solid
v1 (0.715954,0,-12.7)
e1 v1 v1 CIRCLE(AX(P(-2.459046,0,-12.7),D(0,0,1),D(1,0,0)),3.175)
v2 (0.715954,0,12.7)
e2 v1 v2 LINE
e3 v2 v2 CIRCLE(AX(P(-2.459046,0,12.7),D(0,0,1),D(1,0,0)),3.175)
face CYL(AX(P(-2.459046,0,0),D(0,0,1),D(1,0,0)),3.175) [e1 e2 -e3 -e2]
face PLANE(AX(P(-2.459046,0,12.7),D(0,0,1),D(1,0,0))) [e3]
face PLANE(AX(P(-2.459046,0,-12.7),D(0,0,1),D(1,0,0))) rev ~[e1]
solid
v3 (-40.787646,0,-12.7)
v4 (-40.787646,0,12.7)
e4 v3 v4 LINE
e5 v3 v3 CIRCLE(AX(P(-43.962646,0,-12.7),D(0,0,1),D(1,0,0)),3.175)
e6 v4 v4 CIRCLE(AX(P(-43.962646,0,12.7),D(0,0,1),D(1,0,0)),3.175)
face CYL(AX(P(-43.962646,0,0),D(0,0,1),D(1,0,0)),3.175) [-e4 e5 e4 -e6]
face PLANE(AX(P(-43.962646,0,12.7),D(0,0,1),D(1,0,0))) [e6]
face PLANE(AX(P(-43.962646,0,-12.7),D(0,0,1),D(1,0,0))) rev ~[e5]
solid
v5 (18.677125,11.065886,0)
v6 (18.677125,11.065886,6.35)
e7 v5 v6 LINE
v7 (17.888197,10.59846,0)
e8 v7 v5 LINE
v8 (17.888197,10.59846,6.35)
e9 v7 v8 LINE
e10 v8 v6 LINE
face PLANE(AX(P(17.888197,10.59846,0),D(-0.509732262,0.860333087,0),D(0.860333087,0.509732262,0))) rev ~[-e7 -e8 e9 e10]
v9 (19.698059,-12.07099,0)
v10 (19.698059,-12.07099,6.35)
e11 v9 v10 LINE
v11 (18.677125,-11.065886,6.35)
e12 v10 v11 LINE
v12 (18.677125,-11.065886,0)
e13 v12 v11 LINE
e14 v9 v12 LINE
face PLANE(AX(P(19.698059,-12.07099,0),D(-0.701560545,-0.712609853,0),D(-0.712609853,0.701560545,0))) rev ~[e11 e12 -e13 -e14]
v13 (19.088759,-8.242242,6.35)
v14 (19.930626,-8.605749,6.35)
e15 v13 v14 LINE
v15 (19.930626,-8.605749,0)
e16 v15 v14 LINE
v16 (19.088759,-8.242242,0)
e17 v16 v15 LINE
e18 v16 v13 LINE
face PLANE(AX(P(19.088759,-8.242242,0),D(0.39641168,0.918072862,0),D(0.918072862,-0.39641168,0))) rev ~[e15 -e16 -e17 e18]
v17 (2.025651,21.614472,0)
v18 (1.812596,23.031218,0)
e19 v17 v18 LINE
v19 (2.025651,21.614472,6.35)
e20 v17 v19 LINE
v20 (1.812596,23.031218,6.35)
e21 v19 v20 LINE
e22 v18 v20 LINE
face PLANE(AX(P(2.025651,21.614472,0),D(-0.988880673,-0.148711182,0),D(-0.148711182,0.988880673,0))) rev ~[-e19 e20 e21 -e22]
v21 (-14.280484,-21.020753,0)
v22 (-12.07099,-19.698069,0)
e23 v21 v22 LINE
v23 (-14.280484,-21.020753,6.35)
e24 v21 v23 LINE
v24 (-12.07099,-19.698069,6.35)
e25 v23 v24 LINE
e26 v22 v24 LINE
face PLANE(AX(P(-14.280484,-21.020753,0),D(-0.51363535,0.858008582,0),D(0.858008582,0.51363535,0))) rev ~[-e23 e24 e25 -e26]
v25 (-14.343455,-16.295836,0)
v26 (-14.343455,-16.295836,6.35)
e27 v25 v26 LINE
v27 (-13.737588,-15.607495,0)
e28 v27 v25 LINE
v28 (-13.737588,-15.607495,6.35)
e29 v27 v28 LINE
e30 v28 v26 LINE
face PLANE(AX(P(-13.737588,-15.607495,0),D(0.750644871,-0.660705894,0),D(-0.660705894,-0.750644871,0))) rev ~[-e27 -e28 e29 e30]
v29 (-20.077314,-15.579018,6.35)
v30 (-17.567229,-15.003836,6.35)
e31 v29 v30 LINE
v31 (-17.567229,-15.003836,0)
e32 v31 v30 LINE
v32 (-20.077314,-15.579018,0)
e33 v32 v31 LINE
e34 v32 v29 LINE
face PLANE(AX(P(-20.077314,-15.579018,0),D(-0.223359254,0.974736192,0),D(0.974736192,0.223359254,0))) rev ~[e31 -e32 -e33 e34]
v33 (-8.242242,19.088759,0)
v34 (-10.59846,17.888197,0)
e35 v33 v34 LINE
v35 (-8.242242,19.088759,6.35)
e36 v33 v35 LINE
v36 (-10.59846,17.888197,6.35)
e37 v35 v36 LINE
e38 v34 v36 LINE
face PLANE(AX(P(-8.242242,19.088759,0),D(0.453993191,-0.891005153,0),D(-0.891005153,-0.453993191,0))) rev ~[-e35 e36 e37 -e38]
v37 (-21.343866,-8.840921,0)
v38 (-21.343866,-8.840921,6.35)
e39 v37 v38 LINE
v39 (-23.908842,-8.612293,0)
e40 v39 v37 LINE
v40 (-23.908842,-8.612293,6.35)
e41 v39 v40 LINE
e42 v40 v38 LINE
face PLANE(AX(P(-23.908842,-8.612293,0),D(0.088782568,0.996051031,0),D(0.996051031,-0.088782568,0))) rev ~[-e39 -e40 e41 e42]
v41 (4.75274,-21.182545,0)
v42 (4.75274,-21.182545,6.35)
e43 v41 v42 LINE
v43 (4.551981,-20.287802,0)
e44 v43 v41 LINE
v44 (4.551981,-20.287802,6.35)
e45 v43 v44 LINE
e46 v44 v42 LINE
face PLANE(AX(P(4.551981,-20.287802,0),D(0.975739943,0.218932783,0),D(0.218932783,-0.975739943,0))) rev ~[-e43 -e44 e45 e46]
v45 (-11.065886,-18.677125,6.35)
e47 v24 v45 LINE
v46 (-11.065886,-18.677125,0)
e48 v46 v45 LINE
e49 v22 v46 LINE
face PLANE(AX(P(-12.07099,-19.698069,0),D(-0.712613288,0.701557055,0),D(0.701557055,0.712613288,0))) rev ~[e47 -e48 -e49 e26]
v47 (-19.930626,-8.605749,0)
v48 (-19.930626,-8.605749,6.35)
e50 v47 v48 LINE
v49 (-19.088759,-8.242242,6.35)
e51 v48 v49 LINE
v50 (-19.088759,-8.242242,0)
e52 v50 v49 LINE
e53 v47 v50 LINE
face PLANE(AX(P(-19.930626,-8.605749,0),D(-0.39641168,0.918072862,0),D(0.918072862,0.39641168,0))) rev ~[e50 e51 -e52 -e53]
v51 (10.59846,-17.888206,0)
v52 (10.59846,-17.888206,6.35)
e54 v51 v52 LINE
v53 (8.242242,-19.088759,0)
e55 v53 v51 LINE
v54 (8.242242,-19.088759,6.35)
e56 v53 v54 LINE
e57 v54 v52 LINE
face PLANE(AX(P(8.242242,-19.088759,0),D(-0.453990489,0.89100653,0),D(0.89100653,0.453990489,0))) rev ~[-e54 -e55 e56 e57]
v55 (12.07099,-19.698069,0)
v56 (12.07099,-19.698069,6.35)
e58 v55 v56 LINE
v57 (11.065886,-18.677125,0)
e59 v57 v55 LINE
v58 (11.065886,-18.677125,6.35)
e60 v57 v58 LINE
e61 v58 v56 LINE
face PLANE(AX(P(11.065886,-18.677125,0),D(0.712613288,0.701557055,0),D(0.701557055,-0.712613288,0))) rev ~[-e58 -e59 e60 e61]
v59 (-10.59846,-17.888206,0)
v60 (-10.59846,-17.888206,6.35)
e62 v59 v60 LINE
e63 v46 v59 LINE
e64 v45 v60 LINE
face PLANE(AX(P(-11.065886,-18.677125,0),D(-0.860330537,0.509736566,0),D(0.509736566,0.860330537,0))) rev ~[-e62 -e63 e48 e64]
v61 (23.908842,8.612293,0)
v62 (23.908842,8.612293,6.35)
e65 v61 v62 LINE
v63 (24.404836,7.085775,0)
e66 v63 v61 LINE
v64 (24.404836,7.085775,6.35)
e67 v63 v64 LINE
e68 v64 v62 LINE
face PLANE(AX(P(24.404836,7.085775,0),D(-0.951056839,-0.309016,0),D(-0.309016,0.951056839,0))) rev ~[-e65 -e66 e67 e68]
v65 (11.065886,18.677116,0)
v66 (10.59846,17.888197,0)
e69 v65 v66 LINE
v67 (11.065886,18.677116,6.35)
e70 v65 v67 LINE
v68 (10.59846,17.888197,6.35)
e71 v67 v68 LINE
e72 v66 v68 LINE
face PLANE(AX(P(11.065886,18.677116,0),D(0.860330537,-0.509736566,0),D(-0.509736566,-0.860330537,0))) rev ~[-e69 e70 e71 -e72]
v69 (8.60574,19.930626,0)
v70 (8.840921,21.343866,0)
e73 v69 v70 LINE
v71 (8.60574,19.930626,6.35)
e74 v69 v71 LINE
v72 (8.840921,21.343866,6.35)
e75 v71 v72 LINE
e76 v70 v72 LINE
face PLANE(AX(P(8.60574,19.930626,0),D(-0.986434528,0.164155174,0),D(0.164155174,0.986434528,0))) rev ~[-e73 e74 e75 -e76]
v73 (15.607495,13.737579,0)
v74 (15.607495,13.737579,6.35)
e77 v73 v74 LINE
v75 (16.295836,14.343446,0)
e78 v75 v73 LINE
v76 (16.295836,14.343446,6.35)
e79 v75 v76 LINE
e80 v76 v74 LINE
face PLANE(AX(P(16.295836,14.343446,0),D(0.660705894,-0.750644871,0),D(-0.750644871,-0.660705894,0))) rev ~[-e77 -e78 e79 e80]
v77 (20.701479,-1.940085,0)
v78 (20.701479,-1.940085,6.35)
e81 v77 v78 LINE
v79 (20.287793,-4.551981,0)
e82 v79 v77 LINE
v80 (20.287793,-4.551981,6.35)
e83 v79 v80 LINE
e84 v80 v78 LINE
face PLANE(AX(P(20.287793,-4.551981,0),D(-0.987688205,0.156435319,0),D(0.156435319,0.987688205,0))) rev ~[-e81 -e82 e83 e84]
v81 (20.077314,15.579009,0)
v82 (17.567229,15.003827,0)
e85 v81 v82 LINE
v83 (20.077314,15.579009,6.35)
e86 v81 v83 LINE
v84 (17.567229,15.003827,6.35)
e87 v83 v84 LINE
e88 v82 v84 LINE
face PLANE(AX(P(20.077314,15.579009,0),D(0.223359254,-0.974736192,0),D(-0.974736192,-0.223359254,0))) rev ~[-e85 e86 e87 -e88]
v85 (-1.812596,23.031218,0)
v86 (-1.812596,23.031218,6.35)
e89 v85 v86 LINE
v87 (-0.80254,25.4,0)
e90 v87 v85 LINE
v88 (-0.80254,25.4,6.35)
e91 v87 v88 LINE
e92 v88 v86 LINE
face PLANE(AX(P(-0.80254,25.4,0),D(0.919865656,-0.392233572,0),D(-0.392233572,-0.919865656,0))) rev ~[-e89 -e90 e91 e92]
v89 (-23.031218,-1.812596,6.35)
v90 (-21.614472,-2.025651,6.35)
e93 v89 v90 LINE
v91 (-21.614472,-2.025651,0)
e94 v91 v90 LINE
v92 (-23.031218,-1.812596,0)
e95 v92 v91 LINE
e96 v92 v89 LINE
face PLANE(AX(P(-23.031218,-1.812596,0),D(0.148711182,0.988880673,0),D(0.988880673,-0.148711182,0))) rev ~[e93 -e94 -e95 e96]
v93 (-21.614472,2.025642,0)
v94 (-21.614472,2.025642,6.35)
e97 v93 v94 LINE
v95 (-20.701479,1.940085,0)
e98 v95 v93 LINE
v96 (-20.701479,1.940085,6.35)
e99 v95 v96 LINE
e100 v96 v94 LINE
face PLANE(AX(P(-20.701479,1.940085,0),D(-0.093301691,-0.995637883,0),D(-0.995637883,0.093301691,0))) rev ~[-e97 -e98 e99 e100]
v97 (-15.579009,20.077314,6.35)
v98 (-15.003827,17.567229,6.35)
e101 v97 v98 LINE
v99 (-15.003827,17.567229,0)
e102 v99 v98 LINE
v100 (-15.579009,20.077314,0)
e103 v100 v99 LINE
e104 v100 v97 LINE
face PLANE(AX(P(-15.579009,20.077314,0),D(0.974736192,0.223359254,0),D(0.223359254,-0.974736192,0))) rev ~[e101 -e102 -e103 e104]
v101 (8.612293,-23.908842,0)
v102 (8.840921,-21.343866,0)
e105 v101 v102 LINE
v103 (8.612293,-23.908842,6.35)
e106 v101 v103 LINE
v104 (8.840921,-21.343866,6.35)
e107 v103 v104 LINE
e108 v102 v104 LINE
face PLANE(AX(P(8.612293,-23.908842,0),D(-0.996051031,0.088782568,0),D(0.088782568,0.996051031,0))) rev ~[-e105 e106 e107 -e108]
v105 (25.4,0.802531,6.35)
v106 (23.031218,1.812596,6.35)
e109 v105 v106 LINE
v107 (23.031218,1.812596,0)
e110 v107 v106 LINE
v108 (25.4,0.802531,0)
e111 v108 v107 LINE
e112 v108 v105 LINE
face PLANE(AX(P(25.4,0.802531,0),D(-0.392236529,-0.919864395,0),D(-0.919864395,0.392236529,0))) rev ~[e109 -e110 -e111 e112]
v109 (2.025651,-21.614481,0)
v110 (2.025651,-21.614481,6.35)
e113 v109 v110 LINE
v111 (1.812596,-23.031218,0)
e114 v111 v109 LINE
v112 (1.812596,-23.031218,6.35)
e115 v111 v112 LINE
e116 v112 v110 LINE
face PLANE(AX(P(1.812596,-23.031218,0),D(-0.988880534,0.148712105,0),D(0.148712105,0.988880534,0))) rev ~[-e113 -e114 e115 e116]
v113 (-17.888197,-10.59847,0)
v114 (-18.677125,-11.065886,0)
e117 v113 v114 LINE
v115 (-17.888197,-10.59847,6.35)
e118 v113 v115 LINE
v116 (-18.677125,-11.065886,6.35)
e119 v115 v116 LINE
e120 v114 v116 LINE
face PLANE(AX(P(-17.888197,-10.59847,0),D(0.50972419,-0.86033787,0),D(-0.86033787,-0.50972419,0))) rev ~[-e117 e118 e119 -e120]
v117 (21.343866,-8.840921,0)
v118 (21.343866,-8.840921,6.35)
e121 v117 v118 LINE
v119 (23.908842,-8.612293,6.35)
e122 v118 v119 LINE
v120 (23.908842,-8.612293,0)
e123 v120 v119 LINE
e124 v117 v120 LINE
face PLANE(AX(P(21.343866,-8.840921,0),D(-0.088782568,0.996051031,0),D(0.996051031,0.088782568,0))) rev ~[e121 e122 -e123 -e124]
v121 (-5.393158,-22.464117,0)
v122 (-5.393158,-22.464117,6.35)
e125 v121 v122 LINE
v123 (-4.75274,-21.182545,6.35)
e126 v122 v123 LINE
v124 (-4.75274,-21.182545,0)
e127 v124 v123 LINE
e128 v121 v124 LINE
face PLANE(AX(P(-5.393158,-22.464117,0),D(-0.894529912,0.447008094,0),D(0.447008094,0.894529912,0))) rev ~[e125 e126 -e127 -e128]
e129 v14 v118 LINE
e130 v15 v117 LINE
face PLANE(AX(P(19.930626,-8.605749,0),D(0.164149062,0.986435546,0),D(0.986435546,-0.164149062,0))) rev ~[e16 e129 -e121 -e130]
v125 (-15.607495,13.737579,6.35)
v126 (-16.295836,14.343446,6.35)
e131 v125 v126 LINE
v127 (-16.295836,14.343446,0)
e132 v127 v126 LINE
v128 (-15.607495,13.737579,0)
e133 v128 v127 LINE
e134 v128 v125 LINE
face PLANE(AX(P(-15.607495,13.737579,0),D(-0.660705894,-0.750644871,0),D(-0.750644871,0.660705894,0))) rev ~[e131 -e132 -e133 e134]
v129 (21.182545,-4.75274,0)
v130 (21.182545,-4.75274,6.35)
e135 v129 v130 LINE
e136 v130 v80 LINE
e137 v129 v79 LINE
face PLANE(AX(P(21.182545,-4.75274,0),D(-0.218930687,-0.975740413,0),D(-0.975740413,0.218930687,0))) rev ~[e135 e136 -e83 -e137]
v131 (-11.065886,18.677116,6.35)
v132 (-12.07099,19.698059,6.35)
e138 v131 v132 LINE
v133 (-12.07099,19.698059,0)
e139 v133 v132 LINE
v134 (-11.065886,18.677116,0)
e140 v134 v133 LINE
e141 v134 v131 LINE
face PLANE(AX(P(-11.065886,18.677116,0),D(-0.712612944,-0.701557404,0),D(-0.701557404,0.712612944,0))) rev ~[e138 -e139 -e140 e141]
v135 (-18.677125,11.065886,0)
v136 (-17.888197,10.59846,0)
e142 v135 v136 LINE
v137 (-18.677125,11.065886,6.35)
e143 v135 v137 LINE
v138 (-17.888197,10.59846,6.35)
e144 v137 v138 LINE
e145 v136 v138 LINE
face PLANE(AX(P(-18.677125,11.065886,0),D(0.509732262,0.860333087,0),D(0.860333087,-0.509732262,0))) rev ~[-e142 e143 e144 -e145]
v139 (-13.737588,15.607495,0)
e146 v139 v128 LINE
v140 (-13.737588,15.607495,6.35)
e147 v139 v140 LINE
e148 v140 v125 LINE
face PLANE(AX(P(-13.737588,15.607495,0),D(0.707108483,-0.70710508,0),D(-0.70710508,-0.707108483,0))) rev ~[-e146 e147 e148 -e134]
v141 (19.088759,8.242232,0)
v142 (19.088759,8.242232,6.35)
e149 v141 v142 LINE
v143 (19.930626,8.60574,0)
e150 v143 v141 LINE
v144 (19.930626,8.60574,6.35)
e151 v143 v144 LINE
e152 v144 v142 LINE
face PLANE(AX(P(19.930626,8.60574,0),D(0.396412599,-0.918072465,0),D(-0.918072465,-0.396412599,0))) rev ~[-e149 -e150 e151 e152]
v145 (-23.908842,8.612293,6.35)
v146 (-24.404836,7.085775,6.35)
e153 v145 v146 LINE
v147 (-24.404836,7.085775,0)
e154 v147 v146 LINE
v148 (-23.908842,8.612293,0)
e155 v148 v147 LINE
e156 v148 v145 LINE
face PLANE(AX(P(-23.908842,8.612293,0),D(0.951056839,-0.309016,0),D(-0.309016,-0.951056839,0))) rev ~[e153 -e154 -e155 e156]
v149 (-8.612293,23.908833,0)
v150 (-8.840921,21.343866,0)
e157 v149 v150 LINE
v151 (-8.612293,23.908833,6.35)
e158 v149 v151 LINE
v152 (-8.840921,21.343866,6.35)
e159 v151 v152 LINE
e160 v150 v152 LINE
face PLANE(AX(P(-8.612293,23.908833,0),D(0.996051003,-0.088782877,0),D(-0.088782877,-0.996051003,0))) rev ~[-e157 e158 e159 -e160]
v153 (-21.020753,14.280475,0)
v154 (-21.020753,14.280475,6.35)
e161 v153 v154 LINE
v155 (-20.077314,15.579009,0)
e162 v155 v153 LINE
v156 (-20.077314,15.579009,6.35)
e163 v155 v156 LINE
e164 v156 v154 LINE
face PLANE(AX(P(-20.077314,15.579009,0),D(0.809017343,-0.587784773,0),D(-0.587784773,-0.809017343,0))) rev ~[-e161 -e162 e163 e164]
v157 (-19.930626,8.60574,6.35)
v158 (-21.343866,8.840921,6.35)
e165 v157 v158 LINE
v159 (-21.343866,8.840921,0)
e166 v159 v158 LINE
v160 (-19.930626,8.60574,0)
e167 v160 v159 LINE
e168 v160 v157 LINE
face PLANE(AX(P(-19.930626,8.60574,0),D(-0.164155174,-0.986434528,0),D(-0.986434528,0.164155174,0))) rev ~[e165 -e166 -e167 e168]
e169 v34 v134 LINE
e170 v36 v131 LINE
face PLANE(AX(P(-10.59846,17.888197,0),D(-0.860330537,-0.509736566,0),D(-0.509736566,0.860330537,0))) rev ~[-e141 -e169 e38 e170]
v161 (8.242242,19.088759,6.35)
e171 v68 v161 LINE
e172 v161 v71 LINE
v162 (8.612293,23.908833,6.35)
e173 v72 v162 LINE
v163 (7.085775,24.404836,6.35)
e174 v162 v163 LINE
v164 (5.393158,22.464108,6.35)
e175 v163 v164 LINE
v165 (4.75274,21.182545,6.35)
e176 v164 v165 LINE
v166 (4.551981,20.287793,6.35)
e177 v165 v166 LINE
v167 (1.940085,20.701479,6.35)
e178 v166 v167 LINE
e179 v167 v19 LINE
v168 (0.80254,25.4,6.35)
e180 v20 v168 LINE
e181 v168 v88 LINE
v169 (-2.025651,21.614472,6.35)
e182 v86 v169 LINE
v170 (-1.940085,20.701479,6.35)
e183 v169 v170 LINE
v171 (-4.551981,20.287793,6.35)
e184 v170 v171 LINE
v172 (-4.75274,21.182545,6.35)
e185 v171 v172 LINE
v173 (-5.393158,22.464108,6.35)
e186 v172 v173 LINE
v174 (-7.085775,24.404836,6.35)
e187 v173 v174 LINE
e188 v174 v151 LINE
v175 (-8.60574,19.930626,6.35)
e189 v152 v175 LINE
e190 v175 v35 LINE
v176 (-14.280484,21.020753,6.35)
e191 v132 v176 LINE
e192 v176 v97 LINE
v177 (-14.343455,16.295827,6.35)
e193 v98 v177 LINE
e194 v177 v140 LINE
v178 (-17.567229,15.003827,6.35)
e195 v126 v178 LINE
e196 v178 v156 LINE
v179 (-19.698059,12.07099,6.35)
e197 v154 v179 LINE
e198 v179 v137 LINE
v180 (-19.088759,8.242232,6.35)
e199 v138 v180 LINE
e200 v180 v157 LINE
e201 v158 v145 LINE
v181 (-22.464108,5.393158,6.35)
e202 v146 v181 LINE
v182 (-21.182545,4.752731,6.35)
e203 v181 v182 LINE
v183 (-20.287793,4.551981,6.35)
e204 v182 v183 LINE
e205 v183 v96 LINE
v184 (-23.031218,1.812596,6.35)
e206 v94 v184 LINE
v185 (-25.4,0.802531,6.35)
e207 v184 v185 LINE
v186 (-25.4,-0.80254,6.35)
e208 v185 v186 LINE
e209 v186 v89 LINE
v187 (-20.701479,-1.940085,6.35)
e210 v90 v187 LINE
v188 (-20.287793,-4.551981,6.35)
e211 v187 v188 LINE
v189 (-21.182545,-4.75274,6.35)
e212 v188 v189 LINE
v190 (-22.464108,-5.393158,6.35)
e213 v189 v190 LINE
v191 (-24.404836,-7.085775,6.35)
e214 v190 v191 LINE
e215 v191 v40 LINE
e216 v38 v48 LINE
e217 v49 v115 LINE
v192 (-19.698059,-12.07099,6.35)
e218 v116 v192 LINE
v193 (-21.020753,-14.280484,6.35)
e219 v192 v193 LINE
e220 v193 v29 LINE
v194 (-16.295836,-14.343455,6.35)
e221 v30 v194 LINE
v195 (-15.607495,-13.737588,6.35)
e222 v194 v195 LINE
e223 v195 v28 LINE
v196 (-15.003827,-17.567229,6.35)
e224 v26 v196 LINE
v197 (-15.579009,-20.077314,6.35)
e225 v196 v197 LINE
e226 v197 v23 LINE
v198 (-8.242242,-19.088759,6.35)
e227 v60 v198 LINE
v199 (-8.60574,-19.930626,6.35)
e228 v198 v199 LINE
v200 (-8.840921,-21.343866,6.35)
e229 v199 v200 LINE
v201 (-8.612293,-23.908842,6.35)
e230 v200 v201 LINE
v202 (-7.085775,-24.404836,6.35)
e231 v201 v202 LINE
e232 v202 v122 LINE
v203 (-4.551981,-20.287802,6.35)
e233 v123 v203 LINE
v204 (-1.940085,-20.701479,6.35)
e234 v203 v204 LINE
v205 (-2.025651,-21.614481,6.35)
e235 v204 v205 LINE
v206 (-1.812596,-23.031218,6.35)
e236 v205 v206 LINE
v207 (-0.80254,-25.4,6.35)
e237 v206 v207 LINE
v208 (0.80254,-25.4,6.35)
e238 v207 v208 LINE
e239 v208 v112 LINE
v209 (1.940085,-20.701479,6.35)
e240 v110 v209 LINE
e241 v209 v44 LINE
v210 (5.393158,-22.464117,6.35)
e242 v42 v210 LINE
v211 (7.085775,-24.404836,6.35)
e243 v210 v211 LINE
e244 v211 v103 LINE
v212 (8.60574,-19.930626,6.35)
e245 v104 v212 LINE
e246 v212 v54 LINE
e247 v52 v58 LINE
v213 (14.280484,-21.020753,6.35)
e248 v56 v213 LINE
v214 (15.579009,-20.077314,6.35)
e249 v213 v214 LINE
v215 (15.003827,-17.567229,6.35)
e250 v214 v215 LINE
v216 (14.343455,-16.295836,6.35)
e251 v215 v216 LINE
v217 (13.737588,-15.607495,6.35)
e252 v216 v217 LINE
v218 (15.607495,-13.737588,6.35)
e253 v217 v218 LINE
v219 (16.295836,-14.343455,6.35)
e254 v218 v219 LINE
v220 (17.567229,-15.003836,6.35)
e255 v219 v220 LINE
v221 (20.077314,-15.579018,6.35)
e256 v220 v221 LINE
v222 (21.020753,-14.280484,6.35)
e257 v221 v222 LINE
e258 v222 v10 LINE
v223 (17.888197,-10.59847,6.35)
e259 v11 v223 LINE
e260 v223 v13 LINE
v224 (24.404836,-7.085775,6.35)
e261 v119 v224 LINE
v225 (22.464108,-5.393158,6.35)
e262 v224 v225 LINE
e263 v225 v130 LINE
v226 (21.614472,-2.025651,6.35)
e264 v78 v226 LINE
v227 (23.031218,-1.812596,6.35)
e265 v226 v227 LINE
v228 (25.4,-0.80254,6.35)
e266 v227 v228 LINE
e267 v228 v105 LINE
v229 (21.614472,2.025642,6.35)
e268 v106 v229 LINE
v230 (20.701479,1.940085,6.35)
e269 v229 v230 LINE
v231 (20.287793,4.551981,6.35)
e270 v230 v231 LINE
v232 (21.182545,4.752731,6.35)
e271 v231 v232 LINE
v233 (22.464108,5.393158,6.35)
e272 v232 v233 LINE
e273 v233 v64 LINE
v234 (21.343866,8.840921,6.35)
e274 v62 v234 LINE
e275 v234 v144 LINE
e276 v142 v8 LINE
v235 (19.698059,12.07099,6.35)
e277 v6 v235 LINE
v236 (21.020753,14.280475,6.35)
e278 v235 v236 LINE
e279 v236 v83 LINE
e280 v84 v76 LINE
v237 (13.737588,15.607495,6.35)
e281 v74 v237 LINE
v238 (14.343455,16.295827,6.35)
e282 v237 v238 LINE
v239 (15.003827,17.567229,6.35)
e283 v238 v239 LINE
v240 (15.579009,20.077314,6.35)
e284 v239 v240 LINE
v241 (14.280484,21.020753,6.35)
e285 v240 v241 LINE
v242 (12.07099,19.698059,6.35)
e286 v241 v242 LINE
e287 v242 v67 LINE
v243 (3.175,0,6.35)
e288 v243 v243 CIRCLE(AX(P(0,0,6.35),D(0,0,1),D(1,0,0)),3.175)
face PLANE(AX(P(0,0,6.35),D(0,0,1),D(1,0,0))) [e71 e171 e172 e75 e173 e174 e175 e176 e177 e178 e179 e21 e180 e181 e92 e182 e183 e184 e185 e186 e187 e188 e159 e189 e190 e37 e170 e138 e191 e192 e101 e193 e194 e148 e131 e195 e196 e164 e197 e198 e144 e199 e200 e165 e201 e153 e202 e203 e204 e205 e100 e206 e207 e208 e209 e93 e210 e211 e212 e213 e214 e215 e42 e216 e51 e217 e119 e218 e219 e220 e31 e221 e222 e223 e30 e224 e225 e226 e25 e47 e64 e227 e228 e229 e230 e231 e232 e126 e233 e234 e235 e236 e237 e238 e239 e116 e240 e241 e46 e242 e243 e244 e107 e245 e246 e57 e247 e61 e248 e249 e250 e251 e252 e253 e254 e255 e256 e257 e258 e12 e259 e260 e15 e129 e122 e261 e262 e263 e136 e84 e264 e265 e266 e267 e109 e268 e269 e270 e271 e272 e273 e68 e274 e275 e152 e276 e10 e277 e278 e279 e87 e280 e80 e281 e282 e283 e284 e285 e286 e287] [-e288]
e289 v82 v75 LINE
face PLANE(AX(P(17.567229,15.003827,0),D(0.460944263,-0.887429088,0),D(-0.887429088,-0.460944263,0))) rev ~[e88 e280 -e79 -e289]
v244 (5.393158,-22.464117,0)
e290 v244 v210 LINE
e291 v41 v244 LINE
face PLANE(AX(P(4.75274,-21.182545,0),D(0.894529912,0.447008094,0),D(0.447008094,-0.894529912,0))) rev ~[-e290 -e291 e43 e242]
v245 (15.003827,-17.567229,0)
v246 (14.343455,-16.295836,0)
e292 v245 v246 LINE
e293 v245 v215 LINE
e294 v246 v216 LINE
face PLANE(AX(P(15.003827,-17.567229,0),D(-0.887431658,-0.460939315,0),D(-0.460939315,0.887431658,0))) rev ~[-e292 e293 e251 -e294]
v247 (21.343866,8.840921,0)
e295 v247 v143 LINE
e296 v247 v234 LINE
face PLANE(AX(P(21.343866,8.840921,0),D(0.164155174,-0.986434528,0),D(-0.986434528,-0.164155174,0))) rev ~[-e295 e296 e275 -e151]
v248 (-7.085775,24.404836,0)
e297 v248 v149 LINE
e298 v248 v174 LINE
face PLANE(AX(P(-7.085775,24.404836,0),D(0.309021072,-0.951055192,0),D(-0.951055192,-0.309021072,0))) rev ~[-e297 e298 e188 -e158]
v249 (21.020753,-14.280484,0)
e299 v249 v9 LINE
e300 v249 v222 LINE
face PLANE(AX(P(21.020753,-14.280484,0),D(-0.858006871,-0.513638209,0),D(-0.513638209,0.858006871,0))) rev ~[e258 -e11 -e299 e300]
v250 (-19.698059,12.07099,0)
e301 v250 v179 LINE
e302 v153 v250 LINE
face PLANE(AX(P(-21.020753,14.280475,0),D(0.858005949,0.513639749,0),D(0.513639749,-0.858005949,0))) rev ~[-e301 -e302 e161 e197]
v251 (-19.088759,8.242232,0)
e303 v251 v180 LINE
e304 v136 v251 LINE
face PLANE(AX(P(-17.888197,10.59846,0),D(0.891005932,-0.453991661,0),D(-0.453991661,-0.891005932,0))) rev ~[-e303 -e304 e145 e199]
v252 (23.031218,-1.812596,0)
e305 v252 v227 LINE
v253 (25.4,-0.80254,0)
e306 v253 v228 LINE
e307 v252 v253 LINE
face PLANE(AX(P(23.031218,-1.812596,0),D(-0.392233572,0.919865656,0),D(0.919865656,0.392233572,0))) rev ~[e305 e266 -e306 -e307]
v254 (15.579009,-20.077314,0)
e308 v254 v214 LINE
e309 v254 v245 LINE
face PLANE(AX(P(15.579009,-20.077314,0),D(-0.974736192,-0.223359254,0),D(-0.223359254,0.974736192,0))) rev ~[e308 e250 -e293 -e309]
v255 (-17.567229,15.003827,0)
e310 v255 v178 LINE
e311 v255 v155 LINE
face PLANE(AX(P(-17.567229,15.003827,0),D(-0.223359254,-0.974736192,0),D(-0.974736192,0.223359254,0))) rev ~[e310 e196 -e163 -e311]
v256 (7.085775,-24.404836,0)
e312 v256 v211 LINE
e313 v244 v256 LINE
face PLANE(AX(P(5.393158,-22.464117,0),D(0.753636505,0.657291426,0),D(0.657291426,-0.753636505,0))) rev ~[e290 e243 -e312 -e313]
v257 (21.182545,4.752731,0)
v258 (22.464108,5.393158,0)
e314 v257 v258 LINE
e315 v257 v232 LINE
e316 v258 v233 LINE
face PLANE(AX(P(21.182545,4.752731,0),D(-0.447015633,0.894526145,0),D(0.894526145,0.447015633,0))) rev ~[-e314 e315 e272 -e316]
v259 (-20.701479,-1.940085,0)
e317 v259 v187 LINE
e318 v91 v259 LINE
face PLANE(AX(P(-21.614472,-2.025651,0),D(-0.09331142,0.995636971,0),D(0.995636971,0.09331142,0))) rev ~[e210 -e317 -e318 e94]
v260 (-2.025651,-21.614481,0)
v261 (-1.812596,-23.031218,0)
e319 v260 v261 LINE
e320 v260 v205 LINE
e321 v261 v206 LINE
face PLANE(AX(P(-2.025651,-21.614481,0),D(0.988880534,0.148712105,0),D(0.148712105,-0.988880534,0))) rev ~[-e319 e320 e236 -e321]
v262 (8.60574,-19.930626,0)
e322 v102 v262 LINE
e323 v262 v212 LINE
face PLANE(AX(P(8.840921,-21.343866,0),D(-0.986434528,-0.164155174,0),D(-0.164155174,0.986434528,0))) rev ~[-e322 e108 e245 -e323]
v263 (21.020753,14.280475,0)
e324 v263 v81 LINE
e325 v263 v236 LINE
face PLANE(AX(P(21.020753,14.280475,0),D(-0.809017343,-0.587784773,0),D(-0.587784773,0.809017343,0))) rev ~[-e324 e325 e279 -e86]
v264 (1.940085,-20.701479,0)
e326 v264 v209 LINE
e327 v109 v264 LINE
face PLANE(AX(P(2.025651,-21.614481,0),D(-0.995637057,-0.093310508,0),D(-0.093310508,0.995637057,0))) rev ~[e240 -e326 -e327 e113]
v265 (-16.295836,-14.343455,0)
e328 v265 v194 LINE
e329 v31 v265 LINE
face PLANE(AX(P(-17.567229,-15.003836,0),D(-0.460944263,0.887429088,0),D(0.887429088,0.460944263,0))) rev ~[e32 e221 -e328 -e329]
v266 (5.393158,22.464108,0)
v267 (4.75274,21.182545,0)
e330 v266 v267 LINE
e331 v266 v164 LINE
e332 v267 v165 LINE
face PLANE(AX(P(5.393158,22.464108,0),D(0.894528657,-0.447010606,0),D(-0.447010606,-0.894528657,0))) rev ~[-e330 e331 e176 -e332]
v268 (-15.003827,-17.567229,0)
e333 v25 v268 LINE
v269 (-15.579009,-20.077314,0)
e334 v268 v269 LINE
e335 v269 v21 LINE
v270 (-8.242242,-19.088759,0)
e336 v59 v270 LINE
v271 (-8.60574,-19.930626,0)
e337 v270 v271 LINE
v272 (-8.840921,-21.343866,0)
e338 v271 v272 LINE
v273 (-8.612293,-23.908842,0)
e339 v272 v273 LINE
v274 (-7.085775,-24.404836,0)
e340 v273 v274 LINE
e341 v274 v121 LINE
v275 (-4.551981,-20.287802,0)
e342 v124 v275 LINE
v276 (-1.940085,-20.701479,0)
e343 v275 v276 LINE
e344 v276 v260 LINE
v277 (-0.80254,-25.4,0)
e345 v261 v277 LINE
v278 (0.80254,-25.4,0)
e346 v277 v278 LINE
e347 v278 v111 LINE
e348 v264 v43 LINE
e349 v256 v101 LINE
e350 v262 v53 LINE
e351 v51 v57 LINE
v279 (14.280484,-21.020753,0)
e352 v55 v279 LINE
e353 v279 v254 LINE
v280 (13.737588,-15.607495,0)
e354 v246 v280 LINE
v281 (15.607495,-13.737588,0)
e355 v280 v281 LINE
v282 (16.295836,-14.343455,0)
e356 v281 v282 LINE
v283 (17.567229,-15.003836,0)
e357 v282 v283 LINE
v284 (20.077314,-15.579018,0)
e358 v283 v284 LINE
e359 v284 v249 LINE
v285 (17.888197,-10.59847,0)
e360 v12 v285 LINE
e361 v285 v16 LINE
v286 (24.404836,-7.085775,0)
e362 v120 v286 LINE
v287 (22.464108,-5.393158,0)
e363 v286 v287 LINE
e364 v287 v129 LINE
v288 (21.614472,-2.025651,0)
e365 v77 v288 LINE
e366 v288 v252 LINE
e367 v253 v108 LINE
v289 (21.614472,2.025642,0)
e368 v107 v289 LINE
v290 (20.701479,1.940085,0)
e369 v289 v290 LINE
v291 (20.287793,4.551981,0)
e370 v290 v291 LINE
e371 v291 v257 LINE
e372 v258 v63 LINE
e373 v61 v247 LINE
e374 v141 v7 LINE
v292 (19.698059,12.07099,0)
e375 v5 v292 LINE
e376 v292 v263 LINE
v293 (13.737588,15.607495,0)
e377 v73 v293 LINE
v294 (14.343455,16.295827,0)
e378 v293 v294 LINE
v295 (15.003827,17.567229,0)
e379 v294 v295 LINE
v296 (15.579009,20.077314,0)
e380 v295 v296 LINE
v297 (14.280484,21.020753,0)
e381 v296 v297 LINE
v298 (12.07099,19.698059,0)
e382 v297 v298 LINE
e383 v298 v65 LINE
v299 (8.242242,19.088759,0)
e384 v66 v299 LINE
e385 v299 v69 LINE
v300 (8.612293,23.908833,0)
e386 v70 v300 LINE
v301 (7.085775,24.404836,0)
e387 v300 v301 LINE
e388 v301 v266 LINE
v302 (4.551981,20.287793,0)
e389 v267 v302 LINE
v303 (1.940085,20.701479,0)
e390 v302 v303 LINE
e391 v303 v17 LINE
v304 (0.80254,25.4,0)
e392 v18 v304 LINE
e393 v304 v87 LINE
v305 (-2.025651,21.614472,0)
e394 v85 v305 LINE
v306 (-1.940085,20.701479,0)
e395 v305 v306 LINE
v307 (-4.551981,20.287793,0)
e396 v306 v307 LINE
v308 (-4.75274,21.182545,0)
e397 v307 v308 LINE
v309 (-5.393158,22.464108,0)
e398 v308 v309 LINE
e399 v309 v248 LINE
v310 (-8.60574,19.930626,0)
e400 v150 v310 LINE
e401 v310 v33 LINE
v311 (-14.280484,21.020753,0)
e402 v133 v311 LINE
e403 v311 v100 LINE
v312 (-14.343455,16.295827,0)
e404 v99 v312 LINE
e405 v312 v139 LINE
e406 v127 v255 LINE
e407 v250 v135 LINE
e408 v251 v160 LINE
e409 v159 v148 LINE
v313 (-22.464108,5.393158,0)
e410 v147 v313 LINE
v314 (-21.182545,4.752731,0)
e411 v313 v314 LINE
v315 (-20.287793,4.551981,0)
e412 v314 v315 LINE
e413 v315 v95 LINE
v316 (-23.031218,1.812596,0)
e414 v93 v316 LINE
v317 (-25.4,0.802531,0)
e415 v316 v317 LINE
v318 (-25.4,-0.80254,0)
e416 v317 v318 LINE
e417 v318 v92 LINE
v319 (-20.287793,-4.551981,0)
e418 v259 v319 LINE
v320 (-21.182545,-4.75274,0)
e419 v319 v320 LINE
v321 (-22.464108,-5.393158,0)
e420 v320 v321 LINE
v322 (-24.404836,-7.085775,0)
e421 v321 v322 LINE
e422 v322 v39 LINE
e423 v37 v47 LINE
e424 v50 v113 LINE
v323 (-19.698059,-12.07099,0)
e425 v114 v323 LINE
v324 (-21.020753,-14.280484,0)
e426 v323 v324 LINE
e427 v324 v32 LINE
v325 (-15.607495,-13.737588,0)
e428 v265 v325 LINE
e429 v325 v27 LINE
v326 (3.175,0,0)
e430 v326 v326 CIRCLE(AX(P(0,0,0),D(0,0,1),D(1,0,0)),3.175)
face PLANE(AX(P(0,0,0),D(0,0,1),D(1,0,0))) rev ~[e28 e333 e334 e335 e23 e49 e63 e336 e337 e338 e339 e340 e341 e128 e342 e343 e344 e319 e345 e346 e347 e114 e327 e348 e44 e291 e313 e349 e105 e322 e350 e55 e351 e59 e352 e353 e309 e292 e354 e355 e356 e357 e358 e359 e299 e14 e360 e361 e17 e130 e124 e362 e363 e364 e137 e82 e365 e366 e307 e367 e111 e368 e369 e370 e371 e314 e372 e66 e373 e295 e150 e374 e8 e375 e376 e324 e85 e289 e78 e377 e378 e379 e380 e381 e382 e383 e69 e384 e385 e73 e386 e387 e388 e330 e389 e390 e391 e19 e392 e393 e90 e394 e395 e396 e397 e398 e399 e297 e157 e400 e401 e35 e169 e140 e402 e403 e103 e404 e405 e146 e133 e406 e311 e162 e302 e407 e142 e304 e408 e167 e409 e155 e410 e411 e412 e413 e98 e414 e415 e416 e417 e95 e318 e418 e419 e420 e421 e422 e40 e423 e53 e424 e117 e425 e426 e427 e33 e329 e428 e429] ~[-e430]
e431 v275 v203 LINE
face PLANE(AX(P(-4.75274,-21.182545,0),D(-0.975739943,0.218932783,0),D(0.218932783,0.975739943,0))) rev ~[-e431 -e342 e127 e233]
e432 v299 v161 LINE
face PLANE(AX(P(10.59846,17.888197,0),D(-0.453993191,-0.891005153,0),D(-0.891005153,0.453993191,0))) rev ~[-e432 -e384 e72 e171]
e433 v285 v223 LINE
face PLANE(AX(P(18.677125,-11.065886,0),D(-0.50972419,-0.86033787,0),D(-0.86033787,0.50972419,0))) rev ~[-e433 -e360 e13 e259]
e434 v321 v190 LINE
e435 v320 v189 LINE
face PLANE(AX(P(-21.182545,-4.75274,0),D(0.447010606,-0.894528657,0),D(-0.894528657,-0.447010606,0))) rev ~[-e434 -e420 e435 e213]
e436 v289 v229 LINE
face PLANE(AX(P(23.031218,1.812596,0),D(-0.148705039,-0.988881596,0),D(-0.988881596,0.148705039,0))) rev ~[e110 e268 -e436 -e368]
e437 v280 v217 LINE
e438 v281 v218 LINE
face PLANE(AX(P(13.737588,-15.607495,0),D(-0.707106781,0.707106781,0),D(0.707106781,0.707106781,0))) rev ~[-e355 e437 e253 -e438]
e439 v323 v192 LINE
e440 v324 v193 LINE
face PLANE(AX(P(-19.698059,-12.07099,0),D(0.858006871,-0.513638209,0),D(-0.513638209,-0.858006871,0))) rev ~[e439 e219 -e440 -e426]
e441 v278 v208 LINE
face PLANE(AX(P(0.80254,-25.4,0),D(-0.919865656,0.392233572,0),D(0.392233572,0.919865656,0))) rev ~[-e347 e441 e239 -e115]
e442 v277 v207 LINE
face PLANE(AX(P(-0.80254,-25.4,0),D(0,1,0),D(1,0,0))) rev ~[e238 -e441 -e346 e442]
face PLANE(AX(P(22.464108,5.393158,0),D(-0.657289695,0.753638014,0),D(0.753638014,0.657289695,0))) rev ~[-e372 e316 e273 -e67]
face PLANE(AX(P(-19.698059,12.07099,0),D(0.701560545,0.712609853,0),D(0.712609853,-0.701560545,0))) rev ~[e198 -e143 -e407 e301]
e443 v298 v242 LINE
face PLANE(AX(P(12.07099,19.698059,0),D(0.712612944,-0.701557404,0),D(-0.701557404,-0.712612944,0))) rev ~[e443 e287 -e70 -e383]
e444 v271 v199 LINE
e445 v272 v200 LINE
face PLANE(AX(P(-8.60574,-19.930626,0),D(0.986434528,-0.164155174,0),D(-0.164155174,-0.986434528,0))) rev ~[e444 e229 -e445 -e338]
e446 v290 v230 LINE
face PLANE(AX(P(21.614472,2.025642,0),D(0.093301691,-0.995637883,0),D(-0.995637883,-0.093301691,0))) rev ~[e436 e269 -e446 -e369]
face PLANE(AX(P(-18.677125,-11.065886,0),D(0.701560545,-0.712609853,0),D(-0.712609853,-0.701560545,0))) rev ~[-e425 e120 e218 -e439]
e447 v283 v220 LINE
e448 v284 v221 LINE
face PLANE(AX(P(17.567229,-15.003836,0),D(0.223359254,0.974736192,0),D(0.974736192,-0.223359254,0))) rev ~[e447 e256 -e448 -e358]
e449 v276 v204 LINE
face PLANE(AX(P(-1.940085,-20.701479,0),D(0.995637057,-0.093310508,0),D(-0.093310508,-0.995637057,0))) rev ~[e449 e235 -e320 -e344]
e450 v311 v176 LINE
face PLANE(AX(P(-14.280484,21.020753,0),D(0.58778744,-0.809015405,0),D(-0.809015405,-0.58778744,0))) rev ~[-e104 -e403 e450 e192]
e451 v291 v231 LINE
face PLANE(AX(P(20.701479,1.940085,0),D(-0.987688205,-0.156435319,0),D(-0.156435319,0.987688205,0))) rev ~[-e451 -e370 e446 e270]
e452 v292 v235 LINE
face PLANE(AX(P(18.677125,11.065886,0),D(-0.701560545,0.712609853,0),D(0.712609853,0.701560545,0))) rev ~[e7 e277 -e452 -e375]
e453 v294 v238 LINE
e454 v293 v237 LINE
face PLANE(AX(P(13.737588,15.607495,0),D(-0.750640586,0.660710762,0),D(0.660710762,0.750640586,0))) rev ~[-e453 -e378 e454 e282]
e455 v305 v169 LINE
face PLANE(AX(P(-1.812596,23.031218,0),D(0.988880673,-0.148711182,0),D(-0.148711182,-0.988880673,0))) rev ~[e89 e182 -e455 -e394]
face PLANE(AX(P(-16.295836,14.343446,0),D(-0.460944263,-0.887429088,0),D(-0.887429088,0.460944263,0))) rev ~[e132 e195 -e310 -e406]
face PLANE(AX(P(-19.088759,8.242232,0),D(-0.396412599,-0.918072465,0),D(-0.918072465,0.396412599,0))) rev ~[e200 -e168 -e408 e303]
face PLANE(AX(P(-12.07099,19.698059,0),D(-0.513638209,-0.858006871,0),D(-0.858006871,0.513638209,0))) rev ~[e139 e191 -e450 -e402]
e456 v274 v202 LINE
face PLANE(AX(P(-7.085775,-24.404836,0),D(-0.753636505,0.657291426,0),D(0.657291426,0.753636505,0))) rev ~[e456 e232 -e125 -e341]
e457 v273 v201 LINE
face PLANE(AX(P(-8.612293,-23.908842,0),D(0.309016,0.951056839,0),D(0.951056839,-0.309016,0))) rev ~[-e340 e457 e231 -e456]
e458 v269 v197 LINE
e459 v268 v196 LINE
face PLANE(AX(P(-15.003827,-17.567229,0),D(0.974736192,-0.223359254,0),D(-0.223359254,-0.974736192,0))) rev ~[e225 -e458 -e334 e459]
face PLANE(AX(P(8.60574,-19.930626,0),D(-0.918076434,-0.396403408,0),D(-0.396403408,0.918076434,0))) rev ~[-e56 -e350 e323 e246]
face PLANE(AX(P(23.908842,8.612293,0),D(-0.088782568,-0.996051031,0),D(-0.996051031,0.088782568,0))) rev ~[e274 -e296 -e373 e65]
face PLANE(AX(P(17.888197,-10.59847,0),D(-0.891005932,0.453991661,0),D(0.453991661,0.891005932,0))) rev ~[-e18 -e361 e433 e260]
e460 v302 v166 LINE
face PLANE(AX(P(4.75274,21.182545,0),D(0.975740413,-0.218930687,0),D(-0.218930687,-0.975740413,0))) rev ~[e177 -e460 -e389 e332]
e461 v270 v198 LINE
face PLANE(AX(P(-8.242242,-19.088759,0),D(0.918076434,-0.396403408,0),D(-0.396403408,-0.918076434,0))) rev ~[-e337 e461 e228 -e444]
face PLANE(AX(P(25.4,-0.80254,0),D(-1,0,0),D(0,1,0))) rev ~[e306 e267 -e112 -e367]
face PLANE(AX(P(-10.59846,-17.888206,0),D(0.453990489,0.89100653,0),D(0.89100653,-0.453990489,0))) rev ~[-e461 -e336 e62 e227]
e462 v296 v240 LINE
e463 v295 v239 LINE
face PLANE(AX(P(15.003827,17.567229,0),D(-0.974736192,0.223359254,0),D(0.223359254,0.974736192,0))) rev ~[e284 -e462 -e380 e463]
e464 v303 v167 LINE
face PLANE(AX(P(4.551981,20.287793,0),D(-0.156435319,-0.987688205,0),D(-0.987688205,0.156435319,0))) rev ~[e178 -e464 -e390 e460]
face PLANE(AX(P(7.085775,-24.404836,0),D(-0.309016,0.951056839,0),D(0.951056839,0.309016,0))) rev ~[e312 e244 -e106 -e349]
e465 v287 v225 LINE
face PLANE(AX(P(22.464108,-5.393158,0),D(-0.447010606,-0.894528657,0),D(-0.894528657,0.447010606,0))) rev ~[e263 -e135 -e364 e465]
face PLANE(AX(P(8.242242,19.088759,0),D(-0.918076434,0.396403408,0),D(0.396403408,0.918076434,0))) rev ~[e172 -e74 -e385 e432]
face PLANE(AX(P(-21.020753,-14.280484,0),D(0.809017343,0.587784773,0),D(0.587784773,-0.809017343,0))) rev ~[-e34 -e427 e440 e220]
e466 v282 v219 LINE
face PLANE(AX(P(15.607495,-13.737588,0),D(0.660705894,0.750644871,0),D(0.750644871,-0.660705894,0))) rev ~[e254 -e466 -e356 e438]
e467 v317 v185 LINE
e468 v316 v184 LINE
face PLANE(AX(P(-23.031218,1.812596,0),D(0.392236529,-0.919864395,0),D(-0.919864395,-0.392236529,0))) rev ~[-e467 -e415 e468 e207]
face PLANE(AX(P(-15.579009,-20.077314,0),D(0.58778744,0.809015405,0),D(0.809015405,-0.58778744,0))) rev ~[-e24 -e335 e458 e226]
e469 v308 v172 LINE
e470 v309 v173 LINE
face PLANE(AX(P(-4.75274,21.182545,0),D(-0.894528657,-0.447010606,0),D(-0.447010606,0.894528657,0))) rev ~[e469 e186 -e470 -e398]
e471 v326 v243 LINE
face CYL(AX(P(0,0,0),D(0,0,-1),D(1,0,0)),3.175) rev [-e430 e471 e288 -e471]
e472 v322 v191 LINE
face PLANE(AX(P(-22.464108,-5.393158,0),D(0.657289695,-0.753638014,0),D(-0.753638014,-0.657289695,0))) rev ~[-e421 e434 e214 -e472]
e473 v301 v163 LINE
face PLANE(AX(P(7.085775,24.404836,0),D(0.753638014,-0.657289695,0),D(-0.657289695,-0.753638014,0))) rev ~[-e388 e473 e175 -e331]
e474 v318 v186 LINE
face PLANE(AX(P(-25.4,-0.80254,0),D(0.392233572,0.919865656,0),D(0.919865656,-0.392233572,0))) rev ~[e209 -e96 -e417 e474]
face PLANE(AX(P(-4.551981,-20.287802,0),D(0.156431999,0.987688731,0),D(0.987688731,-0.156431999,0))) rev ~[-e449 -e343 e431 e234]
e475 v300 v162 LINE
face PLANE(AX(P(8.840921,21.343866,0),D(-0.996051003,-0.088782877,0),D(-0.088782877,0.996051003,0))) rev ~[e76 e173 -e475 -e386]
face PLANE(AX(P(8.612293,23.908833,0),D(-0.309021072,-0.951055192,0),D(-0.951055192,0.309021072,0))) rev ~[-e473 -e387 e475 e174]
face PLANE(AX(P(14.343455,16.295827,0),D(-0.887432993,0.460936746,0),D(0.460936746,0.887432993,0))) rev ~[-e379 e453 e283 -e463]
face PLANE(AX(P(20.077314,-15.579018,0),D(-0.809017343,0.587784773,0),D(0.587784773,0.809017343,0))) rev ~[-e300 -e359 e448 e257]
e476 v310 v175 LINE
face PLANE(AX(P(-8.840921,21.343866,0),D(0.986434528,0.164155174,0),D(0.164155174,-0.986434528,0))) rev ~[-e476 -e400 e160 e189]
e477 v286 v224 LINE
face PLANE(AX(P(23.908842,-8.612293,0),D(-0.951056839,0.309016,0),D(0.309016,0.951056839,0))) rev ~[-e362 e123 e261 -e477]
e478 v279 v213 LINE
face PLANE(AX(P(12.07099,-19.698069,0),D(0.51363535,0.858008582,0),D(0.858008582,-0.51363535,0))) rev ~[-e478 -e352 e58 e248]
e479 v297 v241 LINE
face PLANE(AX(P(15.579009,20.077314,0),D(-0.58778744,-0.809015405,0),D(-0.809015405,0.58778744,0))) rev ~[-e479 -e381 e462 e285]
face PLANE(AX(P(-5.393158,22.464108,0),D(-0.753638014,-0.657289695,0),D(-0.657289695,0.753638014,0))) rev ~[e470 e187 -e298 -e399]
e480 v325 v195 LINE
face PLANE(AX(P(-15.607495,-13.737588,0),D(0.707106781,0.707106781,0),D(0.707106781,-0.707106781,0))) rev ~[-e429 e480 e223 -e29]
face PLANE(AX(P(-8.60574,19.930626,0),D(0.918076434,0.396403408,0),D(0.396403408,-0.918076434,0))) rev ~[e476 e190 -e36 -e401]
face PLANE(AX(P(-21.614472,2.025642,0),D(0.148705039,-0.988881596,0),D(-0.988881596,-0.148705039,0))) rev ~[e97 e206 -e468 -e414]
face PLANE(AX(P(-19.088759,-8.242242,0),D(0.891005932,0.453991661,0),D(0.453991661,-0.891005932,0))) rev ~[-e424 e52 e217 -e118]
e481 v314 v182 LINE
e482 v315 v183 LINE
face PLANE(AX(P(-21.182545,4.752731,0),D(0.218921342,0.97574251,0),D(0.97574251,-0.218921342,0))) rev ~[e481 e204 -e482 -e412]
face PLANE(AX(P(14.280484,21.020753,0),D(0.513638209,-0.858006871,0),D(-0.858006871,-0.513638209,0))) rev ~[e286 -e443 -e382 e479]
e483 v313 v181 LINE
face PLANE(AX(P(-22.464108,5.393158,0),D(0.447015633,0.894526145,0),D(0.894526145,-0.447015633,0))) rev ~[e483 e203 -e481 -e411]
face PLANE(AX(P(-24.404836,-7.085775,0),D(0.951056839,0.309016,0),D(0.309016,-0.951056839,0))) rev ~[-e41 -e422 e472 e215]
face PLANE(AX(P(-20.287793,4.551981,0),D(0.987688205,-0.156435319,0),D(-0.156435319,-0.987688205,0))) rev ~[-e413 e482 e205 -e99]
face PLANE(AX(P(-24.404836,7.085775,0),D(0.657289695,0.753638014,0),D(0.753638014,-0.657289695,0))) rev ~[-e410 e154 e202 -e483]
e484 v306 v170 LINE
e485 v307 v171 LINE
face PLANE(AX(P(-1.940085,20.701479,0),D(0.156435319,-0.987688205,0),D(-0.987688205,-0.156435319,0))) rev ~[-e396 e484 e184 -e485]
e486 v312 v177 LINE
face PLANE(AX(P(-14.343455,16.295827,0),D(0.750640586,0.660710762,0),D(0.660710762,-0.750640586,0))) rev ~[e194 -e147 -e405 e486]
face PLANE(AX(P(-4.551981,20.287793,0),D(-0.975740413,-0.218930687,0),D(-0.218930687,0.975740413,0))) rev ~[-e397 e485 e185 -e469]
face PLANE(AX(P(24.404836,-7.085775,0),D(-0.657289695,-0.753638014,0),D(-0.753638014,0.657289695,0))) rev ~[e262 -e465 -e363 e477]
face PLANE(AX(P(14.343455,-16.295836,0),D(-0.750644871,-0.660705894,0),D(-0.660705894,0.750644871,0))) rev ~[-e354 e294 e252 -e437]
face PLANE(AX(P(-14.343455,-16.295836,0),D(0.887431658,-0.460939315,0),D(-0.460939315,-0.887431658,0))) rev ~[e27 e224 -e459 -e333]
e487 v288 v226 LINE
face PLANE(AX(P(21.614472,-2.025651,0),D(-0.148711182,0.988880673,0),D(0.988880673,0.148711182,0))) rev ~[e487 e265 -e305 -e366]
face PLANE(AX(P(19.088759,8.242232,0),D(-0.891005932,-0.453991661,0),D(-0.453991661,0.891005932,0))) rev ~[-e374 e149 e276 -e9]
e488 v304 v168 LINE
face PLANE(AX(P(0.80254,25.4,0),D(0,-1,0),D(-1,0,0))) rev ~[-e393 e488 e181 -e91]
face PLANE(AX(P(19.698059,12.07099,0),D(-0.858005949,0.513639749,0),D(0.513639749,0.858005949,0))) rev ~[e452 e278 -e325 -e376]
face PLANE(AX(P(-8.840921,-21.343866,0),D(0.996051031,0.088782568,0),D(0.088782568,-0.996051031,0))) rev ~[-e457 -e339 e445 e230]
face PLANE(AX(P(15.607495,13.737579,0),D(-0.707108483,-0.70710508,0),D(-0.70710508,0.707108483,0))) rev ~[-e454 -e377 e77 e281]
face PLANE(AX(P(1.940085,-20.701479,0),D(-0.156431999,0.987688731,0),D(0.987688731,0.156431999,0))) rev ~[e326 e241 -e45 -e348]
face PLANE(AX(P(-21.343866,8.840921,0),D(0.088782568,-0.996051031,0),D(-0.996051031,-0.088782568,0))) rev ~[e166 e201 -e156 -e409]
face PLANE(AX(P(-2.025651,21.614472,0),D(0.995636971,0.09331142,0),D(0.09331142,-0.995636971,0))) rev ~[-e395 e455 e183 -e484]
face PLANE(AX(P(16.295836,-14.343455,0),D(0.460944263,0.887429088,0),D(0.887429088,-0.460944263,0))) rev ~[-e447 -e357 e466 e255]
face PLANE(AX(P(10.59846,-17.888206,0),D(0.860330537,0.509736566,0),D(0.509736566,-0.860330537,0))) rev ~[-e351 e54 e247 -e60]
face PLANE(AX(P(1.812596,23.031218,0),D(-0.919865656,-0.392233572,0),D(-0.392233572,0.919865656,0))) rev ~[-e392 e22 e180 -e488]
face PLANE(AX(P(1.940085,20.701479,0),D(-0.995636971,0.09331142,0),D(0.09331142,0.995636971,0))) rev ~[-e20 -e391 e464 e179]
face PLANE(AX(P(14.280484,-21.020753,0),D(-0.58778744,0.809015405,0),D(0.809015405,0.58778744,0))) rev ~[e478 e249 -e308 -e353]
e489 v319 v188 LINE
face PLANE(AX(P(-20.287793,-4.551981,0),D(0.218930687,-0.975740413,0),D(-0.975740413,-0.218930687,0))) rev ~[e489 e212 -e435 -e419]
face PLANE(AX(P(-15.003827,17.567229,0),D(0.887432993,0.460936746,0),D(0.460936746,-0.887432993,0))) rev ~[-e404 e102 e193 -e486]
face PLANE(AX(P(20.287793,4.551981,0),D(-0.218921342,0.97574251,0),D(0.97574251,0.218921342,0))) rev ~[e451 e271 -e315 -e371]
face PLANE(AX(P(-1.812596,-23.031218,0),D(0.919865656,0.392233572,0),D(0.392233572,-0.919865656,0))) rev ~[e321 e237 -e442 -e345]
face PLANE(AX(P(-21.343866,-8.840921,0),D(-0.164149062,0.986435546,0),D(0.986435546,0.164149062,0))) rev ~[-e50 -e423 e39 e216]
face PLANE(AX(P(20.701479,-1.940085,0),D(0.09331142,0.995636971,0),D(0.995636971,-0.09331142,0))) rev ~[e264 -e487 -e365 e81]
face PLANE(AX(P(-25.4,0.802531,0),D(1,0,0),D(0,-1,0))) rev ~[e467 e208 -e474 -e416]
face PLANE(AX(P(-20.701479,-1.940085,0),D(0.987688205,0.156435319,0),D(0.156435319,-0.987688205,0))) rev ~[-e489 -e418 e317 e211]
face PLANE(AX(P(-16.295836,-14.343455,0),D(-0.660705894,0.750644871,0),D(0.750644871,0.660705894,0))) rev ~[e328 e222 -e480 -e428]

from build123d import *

# Parameters (mm, degrees)
F0_R          = 3.175
F1_DEPTH      = 6.35
F2_R          = 3.175
F3_DEPTH      = 12.7
F3_DEPTH_BACK = 12.7


with BuildPart() as f1:
    # F0 (on Top) → F1 (new body)
    with BuildSketch(Plane.XY):
        Polygon((21.614472, 2.025642), (20.701479, 1.940085), (20.287793, 4.551981), (21.182545, 4.752731), (22.464108, 5.393158), (24.404836, 7.085775), (23.908842, 8.612293), (21.343866, 8.840921), (19.930626, 8.60574), (19.088759, 8.242232), (17.888197, 10.59846), (18.677125, 11.065886), (19.698059, 12.07099), (21.020753, 14.280475), (20.077314, 15.579009), (17.567229, 15.003827), (16.295836, 14.343446), (15.607495, 13.737579), (13.737588, 15.607495), (14.343455, 16.295827), (15.003827, 17.567229), (15.579009, 20.077314), (14.280484, 21.020753), (12.07099, 19.698059), (11.065886, 18.677116), (10.59846, 17.888197), (8.242242, 19.088759), (8.60574, 19.930626), (8.840921, 21.343866), (8.612293, 23.908833), (7.085775, 24.404836), (5.393158, 22.464108), (4.75274, 21.182545), (4.551981, 20.287793), (1.940085, 20.701479), (2.025651, 21.614472), (1.812596, 23.031218), (0.80254, 25.4), (-0.80254, 25.4), (-1.812596, 23.031218), (-2.025651, 21.614472), (-1.940085, 20.701479), (-4.551981, 20.287793), (-4.75274, 21.182545), (-5.393158, 22.464108), (-7.085775, 24.404836), (-8.612293, 23.908833), (-8.840921, 21.343866), (-8.60574, 19.930626), (-8.242242, 19.088759), (-10.59846, 17.888197), (-11.065886, 18.677116), (-12.07099, 19.698059), (-14.280484, 21.020753), (-15.579009, 20.077314), (-15.003827, 17.567229), (-14.343455, 16.295827), (-13.737588, 15.607495), (-15.607495, 13.737579), (-16.295836, 14.343446), (-17.567229, 15.003827), (-20.077314, 15.579009), (-21.020753, 14.280475), (-19.698059, 12.07099), (-18.677125, 11.065886), (-17.888197, 10.59846), (-19.088759, 8.242232), (-19.930626, 8.60574), (-21.343866, 8.840921), (-23.908842, 8.612293), (-24.404836, 7.085775), (-22.464108, 5.393158), (-21.182545, 4.752731), (-20.287793, 4.551981), (-20.701479, 1.940085), (-21.614472, 2.025642), (-23.031218, 1.812596), (-25.4, 0.802531), (-25.4, -0.80254), (-23.031218, -1.812596), (-21.614472, -2.025651), (-20.701479, -1.940085), (-20.287793, -4.551981), (-21.182545, -4.75274), (-22.464108, -5.393158), (-24.404836, -7.085775), (-23.908842, -8.612293), (-21.343866, -8.840921), (-19.930626, -8.605749), (-19.088759, -8.242242), (-17.888197, -10.59847), (-18.677125, -11.065886), (-19.698059, -12.07099), (-21.020753, -14.280484), (-20.077314, -15.579018), (-17.567229, -15.003836), (-16.295836, -14.343455), (-15.607495, -13.737588), (-13.737588, -15.607495), (-14.343455, -16.295836), (-15.003827, -17.567229), (-15.579009, -20.077314), (-14.280484, -21.020753), (-12.07099, -19.698069), (-11.065886, -18.677125), (-10.59846, -17.888206), (-8.242242, -19.088759), (-8.60574, -19.930626), (-8.840921, -21.343866), (-8.612293, -23.908842), (-7.085775, -24.404836), (-5.393158, -22.464117), (-4.75274, -21.182545), (-4.551981, -20.287802), (-1.940085, -20.701479), (-2.025651, -21.614481), (-1.812596, -23.031218), (-0.80254, -25.4), (0.80254, -25.4), (1.812596, -23.031218), (2.025651, -21.614481), (1.940085, -20.701479), (4.551981, -20.287802), (4.75274, -21.182545), (5.393158, -22.464117), (7.085775, -24.404836), (8.612293, -23.908842), (8.840921, -21.343866), (8.60574, -19.930626), (8.242242, -19.088759), (10.59846, -17.888206), (11.065886, -18.677125), (12.07099, -19.698069), (14.280484, -21.020753), (15.579009, -20.077314), (15.003827, -17.567229), (14.343455, -16.295836), (13.737588, -15.607495), (15.607495, -13.737588), (16.295836, -14.343455), (17.567229, -15.003836), (20.077314, -15.579018), (21.020753, -14.280484), (19.698059, -12.07099), (18.677125, -11.065886), (17.888197, -10.59847), (19.088759, -8.242242), (19.930626, -8.605749), (21.343866, -8.840921), (23.908842, -8.612293), (24.404836, -7.085775), (22.464108, -5.393158), (21.182545, -4.75274), (20.287793, -4.551981), (20.701479, -1.940085), (21.614472, -2.025651), (23.031218, -1.812596), (25.4, -0.80254), (25.4, 0.802531), (23.031218, 1.812596), align=None)
        Circle(F0_R, mode=Mode.SUBTRACT)
    extrude(amount=F1_DEPTH)


with BuildPart() as f3:
    # F2 (on Top) → F3 (new body, two sides)
    with BuildSketch(Plane.XY) as f3_sk:
        with Locations((-43.962646, 0)):
            Circle(F2_R)
        with Locations((-2.459046, 0)):
            Circle(F2_R)
    extrude(amount=F3_DEPTH)
    extrude(f3_sk.sketch, amount=-F3_DEPTH_BACK)


solid = Compound([f1.part, f3.part])
